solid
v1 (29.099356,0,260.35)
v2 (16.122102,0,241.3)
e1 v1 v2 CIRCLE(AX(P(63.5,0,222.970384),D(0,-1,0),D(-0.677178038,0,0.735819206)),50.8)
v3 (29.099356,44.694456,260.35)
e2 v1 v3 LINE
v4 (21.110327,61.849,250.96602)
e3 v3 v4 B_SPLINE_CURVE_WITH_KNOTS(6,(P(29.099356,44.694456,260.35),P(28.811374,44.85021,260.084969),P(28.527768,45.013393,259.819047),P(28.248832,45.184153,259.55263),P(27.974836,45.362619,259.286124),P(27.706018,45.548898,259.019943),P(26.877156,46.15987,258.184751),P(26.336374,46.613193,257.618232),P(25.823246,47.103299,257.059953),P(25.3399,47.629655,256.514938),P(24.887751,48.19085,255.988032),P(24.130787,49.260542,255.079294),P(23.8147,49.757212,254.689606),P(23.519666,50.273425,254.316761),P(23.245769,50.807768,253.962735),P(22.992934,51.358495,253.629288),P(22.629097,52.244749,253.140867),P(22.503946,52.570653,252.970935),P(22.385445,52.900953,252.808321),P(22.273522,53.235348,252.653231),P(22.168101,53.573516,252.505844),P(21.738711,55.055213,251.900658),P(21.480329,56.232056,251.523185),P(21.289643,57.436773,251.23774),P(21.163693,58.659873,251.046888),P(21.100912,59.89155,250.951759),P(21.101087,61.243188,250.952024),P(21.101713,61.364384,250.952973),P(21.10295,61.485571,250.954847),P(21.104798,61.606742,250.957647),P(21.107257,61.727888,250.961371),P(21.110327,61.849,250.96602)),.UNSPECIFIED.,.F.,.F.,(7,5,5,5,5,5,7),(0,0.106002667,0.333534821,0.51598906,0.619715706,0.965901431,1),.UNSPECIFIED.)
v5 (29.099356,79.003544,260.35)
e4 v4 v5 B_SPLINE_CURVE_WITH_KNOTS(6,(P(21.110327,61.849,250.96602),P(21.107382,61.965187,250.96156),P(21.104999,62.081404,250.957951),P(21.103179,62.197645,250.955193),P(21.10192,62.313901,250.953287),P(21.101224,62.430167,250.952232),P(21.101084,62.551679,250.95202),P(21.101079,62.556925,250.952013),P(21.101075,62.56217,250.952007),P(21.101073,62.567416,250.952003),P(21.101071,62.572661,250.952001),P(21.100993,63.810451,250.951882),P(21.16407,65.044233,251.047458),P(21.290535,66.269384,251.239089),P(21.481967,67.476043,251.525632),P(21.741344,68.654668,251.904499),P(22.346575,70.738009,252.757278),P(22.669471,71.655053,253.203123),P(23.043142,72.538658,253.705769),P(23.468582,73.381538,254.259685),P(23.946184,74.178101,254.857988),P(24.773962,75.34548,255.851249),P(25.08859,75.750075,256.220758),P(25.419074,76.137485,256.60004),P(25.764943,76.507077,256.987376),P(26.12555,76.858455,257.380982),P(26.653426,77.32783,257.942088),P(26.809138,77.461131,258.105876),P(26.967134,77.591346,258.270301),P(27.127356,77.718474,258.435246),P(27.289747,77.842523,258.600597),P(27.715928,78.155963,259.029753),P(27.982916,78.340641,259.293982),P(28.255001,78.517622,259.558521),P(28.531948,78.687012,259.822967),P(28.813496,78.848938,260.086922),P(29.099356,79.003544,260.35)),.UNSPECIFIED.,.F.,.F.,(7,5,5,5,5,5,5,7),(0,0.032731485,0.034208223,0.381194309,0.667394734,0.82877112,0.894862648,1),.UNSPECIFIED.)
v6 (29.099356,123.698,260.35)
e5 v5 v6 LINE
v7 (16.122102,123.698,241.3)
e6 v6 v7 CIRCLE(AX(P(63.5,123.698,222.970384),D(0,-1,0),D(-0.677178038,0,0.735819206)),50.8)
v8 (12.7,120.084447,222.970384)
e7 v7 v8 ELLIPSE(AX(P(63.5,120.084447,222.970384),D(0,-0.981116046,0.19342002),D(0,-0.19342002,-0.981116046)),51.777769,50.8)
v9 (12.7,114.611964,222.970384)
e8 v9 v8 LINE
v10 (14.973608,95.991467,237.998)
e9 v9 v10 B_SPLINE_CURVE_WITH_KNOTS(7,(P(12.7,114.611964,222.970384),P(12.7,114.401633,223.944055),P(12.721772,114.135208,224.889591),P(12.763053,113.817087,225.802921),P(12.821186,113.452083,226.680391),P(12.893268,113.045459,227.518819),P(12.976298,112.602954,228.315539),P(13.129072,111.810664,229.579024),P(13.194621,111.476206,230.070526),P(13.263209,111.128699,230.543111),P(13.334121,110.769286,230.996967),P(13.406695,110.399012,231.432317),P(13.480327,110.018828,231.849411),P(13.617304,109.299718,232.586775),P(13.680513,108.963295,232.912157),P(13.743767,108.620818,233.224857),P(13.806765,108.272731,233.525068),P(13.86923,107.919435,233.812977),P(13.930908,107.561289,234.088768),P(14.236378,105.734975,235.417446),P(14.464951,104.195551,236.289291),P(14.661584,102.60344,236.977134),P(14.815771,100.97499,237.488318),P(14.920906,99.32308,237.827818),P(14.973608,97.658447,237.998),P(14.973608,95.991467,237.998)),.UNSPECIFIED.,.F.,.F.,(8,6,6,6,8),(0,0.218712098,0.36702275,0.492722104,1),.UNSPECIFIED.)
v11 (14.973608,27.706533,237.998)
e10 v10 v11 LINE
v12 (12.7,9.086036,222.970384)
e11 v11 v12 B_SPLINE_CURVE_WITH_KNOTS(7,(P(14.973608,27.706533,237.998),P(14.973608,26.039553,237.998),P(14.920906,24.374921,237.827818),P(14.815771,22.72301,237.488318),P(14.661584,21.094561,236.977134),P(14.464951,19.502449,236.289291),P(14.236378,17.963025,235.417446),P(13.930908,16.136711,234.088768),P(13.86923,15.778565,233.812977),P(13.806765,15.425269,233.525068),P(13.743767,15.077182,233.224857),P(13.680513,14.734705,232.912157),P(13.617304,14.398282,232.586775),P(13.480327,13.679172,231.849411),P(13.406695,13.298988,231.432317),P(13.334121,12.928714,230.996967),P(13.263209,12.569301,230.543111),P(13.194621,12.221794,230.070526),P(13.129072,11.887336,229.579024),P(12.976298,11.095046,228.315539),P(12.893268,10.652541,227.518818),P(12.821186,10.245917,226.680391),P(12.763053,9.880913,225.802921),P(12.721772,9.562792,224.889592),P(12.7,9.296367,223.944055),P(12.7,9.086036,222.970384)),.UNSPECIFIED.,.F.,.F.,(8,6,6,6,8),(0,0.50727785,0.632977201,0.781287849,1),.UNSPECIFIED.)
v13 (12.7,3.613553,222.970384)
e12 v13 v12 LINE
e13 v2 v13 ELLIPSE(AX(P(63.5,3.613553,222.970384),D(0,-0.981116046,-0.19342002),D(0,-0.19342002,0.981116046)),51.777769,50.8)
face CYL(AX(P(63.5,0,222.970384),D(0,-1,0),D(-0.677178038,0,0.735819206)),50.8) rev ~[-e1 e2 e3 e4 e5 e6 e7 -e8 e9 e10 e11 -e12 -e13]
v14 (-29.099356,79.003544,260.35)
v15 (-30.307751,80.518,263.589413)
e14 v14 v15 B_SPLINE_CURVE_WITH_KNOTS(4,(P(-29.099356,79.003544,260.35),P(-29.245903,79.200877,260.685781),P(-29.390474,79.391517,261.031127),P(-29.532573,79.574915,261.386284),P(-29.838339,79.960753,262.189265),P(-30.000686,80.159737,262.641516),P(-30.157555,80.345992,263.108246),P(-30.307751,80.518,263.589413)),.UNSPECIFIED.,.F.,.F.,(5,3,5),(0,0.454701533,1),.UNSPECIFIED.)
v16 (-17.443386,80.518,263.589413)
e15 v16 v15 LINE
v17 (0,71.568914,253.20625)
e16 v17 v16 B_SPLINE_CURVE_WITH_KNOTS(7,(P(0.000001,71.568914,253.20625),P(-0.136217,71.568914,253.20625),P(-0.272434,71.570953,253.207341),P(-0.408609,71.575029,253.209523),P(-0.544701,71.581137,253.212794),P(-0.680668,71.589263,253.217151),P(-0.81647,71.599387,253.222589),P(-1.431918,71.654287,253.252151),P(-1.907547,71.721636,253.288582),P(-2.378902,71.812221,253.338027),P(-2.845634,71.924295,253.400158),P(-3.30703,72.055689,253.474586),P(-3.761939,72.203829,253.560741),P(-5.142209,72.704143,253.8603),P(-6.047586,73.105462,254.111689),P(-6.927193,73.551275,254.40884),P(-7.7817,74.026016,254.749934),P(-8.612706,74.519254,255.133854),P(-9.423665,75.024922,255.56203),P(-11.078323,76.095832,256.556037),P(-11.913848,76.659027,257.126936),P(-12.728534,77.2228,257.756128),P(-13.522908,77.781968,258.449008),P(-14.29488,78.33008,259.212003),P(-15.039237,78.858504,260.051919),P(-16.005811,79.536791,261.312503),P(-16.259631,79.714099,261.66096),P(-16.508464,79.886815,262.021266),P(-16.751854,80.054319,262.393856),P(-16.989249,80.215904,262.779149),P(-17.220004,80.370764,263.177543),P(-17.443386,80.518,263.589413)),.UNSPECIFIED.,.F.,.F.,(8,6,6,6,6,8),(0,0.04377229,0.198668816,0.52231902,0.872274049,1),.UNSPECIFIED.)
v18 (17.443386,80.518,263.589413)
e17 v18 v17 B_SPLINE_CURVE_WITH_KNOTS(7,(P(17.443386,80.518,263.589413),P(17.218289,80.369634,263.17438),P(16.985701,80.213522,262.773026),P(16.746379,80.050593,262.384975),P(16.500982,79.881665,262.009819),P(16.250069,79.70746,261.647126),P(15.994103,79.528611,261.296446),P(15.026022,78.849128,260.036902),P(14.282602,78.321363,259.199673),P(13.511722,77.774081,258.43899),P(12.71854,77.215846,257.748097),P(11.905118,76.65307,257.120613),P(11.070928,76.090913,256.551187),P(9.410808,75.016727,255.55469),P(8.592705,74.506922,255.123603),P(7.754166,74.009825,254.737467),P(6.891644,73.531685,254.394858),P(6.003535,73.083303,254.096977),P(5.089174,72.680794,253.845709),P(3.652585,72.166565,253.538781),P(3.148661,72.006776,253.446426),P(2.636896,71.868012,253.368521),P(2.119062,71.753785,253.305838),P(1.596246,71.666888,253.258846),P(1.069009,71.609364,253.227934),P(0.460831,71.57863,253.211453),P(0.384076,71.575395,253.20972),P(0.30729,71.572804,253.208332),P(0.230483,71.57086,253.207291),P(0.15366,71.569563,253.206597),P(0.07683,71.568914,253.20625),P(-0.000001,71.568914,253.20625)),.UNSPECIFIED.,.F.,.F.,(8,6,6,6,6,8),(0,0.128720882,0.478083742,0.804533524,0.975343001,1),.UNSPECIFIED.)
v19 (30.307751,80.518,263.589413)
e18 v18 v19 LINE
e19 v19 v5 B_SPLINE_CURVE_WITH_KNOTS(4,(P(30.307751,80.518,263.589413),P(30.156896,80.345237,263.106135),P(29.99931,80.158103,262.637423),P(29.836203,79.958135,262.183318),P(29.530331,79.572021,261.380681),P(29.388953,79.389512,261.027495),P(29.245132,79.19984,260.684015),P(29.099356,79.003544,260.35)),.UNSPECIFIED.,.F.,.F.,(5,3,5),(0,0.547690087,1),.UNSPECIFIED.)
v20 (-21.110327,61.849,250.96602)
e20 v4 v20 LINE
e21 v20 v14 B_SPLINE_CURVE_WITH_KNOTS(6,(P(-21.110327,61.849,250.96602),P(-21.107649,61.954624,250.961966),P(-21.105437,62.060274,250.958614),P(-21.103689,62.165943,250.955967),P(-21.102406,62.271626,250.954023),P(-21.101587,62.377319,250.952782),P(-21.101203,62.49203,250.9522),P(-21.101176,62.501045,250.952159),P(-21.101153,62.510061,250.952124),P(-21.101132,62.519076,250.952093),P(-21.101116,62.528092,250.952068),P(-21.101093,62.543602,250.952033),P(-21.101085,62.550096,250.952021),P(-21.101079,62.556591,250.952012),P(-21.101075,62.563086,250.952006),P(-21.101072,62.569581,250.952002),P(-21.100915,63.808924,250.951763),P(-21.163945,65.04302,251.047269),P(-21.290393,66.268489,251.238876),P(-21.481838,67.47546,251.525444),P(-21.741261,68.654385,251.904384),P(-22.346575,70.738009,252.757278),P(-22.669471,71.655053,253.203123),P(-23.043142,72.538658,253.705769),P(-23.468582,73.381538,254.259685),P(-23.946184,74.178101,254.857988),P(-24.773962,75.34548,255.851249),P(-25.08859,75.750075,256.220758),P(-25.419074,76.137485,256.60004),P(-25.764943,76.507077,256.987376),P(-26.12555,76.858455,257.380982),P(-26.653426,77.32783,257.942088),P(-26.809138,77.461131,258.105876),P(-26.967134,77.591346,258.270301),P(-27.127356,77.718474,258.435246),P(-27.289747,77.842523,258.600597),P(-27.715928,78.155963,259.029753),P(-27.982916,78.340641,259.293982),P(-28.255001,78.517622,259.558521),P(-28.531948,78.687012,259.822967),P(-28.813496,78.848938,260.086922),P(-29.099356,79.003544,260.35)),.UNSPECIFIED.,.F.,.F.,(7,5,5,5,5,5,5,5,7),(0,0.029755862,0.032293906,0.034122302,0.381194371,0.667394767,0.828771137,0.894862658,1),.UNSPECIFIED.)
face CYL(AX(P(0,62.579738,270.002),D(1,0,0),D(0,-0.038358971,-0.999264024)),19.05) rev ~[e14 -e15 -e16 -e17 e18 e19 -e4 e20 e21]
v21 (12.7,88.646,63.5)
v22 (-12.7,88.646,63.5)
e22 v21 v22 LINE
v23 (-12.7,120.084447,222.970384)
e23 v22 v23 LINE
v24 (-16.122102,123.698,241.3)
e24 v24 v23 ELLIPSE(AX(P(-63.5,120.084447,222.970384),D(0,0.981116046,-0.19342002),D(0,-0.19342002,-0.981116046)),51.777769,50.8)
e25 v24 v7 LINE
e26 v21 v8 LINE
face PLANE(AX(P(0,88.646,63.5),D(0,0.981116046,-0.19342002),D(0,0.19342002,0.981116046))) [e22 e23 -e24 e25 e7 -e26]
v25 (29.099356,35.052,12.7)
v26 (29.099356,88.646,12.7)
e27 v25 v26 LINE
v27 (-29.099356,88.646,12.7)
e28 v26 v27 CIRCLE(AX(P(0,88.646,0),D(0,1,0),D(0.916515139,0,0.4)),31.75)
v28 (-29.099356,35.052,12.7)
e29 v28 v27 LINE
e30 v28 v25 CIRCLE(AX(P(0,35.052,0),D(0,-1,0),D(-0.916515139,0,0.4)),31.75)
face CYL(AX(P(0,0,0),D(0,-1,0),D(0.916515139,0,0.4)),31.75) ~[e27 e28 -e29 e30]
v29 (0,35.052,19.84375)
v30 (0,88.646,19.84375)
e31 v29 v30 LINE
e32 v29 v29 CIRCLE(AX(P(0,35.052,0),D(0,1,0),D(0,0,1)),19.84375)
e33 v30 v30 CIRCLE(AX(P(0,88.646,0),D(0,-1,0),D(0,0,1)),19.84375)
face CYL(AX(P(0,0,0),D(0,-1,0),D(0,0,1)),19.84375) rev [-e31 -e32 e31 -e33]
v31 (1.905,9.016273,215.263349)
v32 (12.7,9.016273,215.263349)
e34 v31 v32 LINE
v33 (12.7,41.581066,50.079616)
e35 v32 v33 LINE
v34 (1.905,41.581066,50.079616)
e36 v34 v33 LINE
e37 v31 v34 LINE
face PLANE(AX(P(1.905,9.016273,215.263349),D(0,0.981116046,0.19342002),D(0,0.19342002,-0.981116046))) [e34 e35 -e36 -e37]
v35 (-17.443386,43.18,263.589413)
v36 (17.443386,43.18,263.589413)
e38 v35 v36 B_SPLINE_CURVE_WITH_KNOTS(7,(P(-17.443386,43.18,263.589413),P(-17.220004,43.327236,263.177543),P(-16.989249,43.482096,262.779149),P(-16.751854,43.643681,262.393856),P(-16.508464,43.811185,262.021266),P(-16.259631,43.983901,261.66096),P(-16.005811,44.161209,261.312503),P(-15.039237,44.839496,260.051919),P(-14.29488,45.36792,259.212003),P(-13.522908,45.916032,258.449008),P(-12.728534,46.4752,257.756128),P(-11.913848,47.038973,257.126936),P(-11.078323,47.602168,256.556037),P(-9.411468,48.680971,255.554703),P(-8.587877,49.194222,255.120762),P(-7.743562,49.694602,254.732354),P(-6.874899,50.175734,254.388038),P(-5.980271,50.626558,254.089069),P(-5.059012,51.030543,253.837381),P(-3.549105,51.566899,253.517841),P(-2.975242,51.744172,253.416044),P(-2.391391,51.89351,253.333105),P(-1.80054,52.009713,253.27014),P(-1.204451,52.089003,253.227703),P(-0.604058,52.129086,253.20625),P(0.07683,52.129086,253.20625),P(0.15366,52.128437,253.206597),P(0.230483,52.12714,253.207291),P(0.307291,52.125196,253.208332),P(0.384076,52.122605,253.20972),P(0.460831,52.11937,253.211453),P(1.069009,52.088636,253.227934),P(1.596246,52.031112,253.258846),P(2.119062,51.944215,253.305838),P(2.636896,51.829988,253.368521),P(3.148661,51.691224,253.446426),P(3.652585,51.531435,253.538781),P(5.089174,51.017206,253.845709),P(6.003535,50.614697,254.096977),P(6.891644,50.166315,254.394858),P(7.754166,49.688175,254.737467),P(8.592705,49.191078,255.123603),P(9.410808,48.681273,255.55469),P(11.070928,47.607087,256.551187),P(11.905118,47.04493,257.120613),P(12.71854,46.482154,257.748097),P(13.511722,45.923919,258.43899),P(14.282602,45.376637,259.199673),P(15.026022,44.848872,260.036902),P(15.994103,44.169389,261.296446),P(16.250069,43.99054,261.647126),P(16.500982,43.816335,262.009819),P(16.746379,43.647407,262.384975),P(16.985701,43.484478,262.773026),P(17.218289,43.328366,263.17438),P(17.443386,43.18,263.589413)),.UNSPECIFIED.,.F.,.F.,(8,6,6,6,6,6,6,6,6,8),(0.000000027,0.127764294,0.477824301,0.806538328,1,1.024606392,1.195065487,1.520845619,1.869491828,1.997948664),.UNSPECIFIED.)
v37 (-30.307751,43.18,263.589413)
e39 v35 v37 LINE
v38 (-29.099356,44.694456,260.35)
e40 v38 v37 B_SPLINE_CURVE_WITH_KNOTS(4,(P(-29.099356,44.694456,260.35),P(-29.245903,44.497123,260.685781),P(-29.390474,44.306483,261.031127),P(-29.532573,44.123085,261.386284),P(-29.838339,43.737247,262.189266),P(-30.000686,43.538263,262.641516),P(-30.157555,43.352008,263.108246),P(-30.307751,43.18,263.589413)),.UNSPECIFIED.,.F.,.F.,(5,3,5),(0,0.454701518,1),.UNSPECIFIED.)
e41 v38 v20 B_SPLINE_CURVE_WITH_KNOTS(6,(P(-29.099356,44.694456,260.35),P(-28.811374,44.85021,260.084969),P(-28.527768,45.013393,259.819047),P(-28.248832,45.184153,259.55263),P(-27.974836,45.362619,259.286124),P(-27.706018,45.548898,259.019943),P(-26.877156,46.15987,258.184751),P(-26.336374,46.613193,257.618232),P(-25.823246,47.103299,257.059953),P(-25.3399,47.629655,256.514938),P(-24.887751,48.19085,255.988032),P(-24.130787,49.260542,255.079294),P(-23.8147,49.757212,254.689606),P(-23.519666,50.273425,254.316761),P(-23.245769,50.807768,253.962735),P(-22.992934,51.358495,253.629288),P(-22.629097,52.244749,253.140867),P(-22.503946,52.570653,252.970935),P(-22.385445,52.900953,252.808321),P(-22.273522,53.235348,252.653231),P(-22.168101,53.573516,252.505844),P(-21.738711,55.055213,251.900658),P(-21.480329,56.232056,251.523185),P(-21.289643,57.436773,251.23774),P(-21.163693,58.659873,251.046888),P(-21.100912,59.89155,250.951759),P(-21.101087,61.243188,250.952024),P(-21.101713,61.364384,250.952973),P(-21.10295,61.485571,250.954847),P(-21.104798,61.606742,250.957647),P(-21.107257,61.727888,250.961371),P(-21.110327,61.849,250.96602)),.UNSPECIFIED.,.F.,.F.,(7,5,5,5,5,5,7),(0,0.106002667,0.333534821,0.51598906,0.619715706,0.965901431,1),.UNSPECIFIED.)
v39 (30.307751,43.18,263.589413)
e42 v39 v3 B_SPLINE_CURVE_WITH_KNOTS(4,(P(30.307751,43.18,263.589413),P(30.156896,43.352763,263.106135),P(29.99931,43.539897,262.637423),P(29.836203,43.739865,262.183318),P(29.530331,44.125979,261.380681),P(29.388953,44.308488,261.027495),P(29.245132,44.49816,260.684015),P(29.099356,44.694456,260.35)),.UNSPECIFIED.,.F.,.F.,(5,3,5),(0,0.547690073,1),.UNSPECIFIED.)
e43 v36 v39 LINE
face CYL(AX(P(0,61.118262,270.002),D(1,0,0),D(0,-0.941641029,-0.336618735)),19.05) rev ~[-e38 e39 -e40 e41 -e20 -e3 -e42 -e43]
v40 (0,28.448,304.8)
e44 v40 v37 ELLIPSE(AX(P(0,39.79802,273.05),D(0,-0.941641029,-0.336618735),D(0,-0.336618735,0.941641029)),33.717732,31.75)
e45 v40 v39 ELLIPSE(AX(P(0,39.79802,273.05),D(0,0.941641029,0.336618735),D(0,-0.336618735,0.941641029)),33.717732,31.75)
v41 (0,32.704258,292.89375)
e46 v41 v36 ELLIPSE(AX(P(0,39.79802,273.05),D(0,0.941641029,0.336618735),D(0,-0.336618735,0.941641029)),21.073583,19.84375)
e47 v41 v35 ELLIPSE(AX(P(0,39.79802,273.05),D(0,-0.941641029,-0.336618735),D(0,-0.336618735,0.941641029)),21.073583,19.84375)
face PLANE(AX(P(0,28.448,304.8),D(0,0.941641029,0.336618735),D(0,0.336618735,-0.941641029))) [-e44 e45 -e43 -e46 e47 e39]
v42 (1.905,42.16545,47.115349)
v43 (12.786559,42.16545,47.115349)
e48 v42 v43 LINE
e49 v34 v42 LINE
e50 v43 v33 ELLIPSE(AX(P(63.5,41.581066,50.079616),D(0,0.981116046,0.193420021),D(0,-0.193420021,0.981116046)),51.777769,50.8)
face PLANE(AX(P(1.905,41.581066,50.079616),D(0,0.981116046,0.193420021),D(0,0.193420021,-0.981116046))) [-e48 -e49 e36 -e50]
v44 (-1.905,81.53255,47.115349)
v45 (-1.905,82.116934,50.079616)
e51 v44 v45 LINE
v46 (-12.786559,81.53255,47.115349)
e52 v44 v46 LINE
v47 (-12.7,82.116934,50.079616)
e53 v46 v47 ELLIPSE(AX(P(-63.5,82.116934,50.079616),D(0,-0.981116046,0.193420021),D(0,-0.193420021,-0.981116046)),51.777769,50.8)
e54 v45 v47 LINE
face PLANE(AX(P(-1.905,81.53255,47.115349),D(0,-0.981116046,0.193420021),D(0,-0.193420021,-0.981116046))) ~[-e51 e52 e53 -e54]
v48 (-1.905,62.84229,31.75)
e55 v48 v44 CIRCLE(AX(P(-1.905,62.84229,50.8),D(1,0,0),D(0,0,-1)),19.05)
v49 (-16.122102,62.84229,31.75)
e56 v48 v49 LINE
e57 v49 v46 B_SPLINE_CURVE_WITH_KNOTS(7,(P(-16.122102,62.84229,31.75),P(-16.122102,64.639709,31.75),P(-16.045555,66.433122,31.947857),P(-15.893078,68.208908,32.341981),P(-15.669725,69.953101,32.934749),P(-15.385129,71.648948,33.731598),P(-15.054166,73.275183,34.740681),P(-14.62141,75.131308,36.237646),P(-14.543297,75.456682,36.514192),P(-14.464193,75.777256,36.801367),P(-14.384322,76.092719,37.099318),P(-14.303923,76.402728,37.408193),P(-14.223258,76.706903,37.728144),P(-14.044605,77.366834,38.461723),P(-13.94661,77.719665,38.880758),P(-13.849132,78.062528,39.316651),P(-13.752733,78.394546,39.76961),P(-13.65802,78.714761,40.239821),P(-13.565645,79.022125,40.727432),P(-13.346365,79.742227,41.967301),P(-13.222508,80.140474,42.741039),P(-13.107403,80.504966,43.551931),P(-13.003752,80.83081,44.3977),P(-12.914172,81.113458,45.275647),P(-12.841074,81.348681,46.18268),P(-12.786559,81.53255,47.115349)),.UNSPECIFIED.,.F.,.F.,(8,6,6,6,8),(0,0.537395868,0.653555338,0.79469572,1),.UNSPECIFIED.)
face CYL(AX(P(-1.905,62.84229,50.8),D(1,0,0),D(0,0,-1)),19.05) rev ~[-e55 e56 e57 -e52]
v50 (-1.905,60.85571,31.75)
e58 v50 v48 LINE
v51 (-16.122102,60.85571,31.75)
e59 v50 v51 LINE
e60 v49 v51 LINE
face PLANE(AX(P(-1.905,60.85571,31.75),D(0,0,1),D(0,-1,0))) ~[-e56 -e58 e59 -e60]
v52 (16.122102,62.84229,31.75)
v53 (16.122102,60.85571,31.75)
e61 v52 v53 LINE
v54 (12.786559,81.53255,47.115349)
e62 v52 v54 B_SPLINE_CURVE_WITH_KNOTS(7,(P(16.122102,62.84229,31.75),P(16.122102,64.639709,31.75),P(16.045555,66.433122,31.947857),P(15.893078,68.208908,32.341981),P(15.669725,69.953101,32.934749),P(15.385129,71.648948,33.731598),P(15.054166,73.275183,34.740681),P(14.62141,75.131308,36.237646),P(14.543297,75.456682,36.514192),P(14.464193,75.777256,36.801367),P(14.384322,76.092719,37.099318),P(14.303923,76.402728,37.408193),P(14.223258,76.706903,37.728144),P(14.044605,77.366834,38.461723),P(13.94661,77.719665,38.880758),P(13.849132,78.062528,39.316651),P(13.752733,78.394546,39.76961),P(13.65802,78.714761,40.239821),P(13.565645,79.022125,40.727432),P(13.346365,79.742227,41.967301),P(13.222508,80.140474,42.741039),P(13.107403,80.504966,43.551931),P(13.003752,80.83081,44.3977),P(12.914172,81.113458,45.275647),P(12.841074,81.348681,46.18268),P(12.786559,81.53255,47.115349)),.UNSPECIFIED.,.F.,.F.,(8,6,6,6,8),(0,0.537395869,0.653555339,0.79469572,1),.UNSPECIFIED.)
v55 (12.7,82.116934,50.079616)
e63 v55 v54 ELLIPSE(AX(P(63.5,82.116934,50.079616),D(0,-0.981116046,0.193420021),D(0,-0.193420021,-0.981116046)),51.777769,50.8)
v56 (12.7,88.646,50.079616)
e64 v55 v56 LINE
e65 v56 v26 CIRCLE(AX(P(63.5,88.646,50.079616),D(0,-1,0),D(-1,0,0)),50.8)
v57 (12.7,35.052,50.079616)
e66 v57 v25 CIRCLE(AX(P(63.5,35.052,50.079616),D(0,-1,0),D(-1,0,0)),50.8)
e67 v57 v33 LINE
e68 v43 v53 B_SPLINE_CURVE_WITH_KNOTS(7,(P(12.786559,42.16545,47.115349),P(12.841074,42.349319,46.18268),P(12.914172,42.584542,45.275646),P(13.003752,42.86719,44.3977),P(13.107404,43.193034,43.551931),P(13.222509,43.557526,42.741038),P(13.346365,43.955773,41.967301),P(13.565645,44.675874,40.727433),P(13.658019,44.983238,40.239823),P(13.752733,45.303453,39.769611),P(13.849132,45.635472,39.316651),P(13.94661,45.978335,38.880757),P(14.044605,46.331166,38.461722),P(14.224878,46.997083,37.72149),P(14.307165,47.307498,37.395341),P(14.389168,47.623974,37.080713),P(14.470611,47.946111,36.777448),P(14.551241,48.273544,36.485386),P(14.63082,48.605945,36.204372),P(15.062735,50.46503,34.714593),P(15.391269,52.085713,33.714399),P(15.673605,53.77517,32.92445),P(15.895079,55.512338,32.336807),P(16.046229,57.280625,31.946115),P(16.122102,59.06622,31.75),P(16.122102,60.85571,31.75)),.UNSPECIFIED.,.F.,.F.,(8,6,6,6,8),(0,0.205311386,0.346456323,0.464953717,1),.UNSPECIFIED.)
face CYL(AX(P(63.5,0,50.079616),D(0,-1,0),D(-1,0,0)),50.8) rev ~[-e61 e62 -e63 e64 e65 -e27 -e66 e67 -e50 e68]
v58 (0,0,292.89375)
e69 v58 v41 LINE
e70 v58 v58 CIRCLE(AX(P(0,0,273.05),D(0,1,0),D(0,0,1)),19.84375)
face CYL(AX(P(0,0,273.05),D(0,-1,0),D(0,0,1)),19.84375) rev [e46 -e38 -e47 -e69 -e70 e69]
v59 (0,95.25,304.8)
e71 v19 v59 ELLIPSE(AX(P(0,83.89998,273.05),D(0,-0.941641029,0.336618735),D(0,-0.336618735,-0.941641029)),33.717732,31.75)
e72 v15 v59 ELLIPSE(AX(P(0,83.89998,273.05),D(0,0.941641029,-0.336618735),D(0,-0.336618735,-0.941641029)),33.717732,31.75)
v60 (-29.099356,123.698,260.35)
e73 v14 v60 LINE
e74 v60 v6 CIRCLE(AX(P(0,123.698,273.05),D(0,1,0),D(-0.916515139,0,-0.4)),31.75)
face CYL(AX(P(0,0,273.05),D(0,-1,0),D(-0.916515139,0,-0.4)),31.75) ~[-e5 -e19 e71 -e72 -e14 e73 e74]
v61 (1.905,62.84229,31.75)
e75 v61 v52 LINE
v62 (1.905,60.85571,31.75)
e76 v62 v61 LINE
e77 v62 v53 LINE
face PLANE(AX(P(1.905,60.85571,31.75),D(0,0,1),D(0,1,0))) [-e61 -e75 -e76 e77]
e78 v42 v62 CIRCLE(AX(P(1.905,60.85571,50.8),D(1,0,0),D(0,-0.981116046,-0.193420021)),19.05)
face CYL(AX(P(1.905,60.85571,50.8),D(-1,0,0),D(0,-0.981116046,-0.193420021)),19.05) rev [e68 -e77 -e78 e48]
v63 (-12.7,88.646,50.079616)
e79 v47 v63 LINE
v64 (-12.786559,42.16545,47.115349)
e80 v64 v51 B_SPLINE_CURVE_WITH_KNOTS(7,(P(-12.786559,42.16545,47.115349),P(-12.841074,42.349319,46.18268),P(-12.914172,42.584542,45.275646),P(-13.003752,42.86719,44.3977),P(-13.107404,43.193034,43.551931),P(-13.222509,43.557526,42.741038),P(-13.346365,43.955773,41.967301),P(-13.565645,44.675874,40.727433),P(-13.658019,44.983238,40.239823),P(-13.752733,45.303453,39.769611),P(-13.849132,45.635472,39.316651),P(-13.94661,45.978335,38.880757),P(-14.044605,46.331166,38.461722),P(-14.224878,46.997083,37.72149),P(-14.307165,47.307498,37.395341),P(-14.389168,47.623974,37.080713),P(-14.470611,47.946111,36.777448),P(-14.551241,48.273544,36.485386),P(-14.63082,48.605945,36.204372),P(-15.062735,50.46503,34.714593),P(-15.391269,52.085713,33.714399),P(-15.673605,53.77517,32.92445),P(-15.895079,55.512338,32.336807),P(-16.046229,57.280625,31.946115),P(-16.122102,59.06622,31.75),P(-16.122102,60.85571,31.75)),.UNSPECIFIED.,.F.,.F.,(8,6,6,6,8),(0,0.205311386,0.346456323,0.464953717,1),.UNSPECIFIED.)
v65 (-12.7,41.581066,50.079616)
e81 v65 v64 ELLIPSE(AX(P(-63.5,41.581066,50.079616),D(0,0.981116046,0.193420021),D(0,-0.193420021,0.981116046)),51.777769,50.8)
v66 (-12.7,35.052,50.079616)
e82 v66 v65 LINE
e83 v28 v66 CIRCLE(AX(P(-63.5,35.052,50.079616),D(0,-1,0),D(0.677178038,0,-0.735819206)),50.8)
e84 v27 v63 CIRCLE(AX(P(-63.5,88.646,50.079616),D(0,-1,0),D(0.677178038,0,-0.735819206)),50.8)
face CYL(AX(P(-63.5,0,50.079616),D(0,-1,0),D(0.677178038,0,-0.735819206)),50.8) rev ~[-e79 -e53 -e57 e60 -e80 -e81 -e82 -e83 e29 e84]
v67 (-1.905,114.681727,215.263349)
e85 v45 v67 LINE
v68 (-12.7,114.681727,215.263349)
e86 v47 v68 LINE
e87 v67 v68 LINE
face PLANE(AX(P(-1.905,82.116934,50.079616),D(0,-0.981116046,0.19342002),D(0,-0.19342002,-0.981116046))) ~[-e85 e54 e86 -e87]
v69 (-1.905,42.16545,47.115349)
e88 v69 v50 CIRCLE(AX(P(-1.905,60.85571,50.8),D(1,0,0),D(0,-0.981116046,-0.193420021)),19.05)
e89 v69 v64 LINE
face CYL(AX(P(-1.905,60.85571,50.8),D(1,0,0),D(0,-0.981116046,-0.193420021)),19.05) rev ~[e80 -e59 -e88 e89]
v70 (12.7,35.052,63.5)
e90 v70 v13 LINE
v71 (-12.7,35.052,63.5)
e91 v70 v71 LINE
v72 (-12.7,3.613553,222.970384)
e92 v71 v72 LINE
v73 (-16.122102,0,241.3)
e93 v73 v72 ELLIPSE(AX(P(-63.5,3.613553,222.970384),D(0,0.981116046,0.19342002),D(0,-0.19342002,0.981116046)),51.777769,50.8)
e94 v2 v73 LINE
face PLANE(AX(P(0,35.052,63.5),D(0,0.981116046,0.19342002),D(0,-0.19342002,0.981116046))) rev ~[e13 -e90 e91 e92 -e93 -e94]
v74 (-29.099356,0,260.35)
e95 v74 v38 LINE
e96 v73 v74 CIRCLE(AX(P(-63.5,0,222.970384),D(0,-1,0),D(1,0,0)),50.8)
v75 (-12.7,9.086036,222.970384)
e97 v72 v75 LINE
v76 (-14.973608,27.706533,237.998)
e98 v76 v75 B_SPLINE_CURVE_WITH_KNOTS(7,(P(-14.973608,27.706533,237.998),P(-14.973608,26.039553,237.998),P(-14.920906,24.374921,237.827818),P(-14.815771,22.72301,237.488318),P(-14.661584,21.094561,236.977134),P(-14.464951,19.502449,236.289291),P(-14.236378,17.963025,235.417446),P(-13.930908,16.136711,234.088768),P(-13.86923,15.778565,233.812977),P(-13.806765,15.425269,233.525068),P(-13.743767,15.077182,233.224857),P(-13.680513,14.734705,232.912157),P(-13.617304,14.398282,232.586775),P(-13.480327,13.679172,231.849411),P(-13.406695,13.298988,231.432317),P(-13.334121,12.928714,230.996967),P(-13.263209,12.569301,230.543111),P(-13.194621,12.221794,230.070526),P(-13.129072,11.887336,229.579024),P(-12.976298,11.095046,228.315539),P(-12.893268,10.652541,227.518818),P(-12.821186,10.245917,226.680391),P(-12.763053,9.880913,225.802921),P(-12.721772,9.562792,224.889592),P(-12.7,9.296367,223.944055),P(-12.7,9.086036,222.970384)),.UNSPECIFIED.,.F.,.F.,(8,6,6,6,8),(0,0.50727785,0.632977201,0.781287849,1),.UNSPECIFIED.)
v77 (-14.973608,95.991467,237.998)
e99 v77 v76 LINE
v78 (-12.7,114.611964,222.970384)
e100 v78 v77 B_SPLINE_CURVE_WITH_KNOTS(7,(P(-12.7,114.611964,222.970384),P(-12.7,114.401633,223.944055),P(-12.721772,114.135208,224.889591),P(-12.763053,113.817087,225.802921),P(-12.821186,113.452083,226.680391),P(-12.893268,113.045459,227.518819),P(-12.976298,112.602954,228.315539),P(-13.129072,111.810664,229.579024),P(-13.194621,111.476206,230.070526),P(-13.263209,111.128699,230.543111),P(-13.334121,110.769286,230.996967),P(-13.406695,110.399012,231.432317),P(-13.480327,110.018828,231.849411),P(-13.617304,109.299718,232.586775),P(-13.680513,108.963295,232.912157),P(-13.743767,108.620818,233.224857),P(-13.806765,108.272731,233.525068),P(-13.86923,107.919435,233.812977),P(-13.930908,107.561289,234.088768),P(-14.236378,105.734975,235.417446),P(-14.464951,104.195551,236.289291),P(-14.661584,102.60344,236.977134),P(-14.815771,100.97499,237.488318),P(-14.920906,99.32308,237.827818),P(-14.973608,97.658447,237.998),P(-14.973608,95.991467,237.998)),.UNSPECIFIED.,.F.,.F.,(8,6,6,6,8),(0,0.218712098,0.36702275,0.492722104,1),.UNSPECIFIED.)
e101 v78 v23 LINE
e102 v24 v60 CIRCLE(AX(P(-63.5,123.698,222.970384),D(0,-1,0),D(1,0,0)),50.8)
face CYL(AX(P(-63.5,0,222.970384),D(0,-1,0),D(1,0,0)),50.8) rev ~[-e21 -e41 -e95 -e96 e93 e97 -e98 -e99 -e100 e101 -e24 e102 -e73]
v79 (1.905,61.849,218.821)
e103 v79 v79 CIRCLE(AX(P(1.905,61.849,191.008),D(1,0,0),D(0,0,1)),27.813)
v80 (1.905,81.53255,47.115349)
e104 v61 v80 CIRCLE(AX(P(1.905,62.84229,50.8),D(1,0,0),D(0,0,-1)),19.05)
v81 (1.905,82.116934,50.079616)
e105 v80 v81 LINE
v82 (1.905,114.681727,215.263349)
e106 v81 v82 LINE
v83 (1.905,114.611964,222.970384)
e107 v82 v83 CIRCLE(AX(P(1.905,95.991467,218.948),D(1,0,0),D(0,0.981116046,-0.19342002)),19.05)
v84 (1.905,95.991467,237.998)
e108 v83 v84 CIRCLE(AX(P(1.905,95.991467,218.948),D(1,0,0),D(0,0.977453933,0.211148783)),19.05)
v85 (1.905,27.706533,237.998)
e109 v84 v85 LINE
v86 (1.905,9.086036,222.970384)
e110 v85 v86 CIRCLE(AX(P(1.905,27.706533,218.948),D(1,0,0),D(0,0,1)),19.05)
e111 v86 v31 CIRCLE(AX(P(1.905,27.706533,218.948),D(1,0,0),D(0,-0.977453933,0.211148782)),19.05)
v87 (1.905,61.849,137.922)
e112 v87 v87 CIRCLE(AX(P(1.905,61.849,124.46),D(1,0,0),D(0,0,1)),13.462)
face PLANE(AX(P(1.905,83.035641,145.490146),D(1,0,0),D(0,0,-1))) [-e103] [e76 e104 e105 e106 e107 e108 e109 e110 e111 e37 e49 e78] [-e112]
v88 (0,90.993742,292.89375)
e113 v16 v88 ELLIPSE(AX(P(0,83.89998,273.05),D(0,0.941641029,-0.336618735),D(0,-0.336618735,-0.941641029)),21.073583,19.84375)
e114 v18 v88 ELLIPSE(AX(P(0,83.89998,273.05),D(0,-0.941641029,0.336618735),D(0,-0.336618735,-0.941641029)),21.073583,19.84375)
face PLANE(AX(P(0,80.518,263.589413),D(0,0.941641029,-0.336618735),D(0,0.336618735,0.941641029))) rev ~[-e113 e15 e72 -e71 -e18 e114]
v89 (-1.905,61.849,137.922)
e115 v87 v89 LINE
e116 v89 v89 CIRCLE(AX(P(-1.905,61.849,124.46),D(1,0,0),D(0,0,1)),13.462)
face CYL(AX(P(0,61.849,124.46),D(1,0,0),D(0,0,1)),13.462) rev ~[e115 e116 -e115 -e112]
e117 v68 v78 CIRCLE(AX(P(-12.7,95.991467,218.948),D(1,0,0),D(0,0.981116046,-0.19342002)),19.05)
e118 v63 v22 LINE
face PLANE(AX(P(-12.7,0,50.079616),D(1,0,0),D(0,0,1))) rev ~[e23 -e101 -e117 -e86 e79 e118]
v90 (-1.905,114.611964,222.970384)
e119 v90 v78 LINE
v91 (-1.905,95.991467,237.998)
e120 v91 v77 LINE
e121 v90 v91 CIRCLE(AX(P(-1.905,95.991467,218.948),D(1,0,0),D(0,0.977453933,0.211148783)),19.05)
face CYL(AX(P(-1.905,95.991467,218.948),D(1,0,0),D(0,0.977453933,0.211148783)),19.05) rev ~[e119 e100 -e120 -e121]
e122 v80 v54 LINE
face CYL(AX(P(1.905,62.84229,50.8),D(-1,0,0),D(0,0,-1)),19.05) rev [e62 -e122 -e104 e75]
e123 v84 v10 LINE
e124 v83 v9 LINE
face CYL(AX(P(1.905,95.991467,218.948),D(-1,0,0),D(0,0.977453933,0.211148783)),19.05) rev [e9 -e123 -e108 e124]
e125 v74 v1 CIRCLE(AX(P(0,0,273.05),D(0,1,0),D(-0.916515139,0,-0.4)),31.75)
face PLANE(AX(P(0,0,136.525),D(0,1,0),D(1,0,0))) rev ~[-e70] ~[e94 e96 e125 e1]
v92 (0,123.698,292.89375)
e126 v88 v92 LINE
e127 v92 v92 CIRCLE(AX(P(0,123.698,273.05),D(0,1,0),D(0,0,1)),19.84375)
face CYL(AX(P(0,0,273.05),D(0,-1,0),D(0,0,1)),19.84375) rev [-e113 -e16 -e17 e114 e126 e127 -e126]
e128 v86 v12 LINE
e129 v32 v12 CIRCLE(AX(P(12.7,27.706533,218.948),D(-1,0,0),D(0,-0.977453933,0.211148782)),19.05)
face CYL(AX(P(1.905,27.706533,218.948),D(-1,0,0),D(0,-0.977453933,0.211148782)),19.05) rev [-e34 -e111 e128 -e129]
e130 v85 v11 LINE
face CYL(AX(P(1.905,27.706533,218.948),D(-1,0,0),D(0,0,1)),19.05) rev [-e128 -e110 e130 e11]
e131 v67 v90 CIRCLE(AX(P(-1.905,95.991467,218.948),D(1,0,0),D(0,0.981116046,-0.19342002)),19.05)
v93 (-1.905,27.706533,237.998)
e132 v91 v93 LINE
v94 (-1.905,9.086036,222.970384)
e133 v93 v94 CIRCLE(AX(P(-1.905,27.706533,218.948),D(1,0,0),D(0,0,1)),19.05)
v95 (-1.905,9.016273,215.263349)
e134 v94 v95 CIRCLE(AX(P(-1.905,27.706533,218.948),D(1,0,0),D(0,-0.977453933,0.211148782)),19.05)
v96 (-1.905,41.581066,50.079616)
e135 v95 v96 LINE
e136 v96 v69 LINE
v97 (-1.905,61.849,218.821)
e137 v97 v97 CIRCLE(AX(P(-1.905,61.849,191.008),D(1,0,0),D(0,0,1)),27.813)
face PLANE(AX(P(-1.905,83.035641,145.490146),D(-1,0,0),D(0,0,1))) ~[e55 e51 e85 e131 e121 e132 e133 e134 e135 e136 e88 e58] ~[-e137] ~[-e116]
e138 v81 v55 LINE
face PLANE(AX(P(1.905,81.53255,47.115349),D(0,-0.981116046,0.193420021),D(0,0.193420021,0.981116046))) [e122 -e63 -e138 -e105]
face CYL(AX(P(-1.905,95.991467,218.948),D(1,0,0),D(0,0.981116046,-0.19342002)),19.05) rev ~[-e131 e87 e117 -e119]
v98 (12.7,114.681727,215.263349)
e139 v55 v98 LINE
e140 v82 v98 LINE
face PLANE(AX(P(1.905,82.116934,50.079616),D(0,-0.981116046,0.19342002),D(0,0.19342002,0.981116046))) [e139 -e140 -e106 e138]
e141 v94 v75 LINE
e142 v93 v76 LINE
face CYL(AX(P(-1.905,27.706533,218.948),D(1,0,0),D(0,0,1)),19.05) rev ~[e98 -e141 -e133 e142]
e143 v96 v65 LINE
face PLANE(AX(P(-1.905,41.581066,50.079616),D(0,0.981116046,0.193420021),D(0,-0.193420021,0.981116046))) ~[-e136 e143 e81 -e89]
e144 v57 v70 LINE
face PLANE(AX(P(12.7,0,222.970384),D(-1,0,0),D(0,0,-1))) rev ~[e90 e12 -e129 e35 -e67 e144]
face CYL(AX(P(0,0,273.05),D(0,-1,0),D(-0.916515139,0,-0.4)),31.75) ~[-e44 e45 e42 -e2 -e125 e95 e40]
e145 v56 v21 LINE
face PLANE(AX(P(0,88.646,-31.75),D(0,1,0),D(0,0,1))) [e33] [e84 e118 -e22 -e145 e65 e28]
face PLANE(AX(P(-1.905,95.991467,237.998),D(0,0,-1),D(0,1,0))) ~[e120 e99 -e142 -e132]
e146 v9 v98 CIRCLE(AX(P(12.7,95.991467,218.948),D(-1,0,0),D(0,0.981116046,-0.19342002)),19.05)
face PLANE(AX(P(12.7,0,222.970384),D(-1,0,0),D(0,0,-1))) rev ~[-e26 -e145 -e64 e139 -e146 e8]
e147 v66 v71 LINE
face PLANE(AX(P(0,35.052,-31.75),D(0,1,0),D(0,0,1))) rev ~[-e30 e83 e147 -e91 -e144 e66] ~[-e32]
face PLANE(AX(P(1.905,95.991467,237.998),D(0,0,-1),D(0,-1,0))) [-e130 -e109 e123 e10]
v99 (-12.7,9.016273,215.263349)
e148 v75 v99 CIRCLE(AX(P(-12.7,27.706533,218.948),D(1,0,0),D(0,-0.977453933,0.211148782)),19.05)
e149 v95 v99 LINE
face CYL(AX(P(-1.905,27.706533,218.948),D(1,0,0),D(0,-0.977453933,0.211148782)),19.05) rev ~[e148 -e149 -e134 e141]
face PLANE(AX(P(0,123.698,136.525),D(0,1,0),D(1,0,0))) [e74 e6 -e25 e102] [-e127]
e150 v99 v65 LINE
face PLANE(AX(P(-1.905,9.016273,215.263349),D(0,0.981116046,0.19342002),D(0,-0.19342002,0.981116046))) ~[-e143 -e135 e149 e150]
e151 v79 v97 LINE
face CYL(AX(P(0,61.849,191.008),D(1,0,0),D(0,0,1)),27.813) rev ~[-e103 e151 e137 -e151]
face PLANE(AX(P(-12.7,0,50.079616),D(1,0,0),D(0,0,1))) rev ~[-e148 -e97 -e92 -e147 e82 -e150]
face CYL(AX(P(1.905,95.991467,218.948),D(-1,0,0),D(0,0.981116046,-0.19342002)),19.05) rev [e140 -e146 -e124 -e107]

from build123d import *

# Parameters (mm, degrees)
SKETCH2_R               = 19.84375
BOSS_EXTRUDE1_DEPTH     = 123.698
SKETCH3_R               = 19.05
CUT_EXTRUDE1_DEPTH      = 331.472839586
CUT_EXTRUDE1_DEPTH_BACK = 331.472839586
CUT_EXTRUDE2_START      = -10.795
CUT_EXTRUDE2_DEPTH      = 343.728785262


with BuildPart() as part:
    # Sketch2 → Boss-Extrude1 (new body)
    with BuildSketch(Plane(origin=(0, 0, 0), x_dir=(1, 0, 0), z_dir=(0, 1, 0))):
        with BuildLine():
            Line((-12.7, -50.079615691), (-12.7, -222.970384309))
            ThreePointArc((-12.7, -222.970384309), (-16.980150837, -243.379784933), (-29.099355663, -260.35))
            ThreePointArc((-29.099355663, -260.35), (0, -304.8), (29.099355663, -260.35))
            ThreePointArc((29.099355663, -260.35), (16.980150837, -243.379784933), (12.7, -222.970384309))
            Line((12.7, -222.970384309), (12.7, -50.079615691))
            ThreePointArc((12.7, -50.079615691), (16.980150837, -29.670215067), (29.099355663, -12.7))
            ThreePointArc((29.099355663, -12.7), (0, 31.75), (-29.099355663, -12.7))
            ThreePointArc((-29.099355663, -12.7), (-16.980150837, -29.670215067), (-12.7, -50.079615691))
        make_face()
        with Locations(Location((0, -273.05, 0), (0, 0, 270))):
            Circle(SKETCH2_R, mode=Mode.SUBTRACT)
        with Locations(Location((0, 0, 0), (0, 0, 270))):
            Circle(SKETCH2_R, mode=Mode.SUBTRACT)
    extrude(amount=BOSS_EXTRUDE1_DEPTH)

    # Sketch3 → Cut-Extrude1 (cut, two sides)
    with BuildSketch(Plane(origin=(0, 0, 0), x_dir=(0, 0, -1), z_dir=(1, 0, 0))) as cut_extrude1_sk:
        with BuildLine():
            Line((-289.037979654, 61.849), (-250.966020346, 61.849))
            ThreePointArc((-250.966020346, 61.849), (-270.002, 80.168261599), (-289.037979654, 61.849))
        make_face()
        with BuildLine():
            ThreePointArc((-289.037979654, 61.849), (-270.002, 43.529738401), (-250.966020346, 61.849))
            Line((-250.966020346, 61.849), (-289.037979654, 61.849))
        make_face()
        with Locations((-270.002, 61.118261599)):
            Circle(SKETCH3_R)
        with Locations((-270.002, 62.579738401)):
            Circle(SKETCH3_R)
        with BuildLine():
            ThreePointArc((-263.589413096, 43.18), (-281.270114367, 45.758180264), (-289.037979654, 61.849))
            Line((-289.037979654, 61.849), (-304.8, 61.849))
            Line((-304.8, 61.849), (-304.8, 28.448))
            Line((-304.8, 28.448), (-263.589413096, 43.18))
        make_face()
        with BuildLine():
            ThreePointArc((-289.037979654, 61.849), (-281.270114367, 77.939819736), (-263.589413096, 80.518))
            Line((-263.589413096, 80.518), (-304.8, 95.25))
            Line((-304.8, 95.25), (-304.8, 61.849))
            Line((-304.8, 61.849), (-289.037979654, 61.849))
        make_face()
        with BuildLine():
            ThreePointArc((-163.195, 61.849), (-191.008, 89.662), (-218.821, 61.849))
            Line((-218.821, 61.849), (-163.195, 61.849))
        make_face()
        with BuildLine():
            Line((-163.195, 61.849), (-218.821, 61.849))
            ThreePointArc((-218.821, 61.849), (-191.008, 34.036), (-163.195, 61.849))
        make_face()
        Polygon((31.75, 88.646), (-63.5, 88.646), (-241.3, 123.698), (31.75, 123.698), align=None)
        Polygon((31.75, 0), (31.75, 35.052), (-63.5, 35.052), (-241.3, 0), align=None)
        with BuildLine():
            ThreePointArc((-110.998, 61.849), (-124.46, 75.311), (-137.922, 61.849))
            Line((-137.922, 61.849), (-110.998, 61.849))
        make_face()
        with BuildLine():
            Line((-110.998, 61.849), (-137.922, 61.849))
            ThreePointArc((-137.922, 61.849), (-124.46, 48.387), (-110.998, 61.849))
        make_face()
    extrude(amount=CUT_EXTRUDE1_DEPTH, mode=Mode.SUBTRACT)
    extrude(cut_extrude1_sk.sketch, amount=-CUT_EXTRUDE1_DEPTH_BACK, mode=Mode.SUBTRACT)

    # Sketch4 → Cut-Extrude2 (cut)
    with BuildSketch(Plane(origin=(12.7, 0, 0), x_dir=(0, 0, -1), z_dir=(1, 0, 0)).offset(CUT_EXTRUDE2_START)):
        with BuildLine():
            Line((-50.079615691, 82.116934418), (-215.26334861, 114.681727479))
            ThreePointArc((-215.26334861, 114.681727479), (-219.120431461, 115.040686403), (-222.970384309, 114.611964231))
            Line((-222.970384309, 114.611964231), (-222.970384309, 61.849))
            Line((-222.970384309, 61.849), (-218.821, 61.849))
            ThreePointArc((-218.821, 61.849), (-191.008, 89.662), (-163.195, 61.849))
            Line((-163.195, 61.849), (-137.922, 61.849))
            ThreePointArc((-137.922, 61.849), (-124.46, 75.311), (-110.998, 61.849))
            Line((-110.998, 61.849), (-50.079615691, 61.849))
            Line((-50.079615691, 61.849), (-50.079615691, 82.116934418))
        make_face()
        with BuildLine():
            Line((-222.970384309, 61.849), (-222.970384309, 114.611964231))
            ThreePointArc((-222.970384309, 114.611964231), (-233.772454814, 107.955497873), (-237.998, 95.991466803))
            Line((-237.998, 95.991466803), (-237.998, 61.849))
            Line((-237.998, 61.849), (-222.970384309, 61.849))
        make_face()
        with BuildLine():
            Line((-222.970384309, 9.086035769), (-222.970384309, 61.849))
            Line((-222.970384309, 61.849), (-237.998, 61.849))
            Line((-237.998, 61.849), (-237.998, 27.706533197))
            ThreePointArc((-237.998, 27.706533197), (-233.772454814, 15.742502127), (-222.970384309, 9.086035769))
        make_face()
        with BuildLine():
            Line((-50.079615691, 41.581065582), (-50.079615691, 61.849))
            Line((-50.079615691, 61.849), (-110.998, 61.849))
            ThreePointArc((-110.998, 61.849), (-124.46, 48.387), (-137.922, 61.849))
            Line((-137.922, 61.849), (-163.195, 61.849))
            ThreePointArc((-163.195, 61.849), (-191.008, 34.036), (-218.821, 61.849))
            Line((-218.821, 61.849), (-222.970384309, 61.849))
            Line((-222.970384309, 61.849), (-222.970384309, 9.086035769))
            ThreePointArc((-222.970384309, 9.086035769), (-219.120431461, 8.657313597), (-215.26334861, 9.016272521))
            Line((-215.26334861, 9.016272521), (-50.079615691, 41.581065582))
        make_face()
        with BuildLine():
            Line((-31.75, 61.849), (-50.079615691, 61.849))
            Line((-50.079615691, 61.849), (-50.079615691, 41.581065582))
            Line((-50.079615691, 41.581065582), (-47.11534861, 42.165449664))
            ThreePointArc((-47.11534861, 42.165449664), (-36.084445152, 48.757985533), (-31.75, 60.85571034))
            Line((-31.75, 60.85571034), (-31.75, 61.849))
        make_face()
        with BuildLine():
            Line((-47.11534861, 81.532550336), (-50.079615691, 82.116934418))
            Line((-50.079615691, 82.116934418), (-50.079615691, 61.849))
            Line((-50.079615691, 61.849), (-31.75, 61.849))
            Line((-31.75, 61.849), (-31.75, 62.84228966))
            ThreePointArc((-31.75, 62.84228966), (-36.084445152, 74.940014467), (-47.11534861, 81.532550336))
        make_face()
    cut_extrude2 = extrude(amount=CUT_EXTRUDE2_DEPTH, mode=Mode.SUBTRACT)

    # Mirror1: Cut-Extrude2 across plane
    add(cut_extrude2.mirror(Plane(origin=(0, 0, 0), x_dir=(0, 0, 1), z_dir=(1, 0, 0))), mode=Mode.SUBTRACT)


solid = part.part
